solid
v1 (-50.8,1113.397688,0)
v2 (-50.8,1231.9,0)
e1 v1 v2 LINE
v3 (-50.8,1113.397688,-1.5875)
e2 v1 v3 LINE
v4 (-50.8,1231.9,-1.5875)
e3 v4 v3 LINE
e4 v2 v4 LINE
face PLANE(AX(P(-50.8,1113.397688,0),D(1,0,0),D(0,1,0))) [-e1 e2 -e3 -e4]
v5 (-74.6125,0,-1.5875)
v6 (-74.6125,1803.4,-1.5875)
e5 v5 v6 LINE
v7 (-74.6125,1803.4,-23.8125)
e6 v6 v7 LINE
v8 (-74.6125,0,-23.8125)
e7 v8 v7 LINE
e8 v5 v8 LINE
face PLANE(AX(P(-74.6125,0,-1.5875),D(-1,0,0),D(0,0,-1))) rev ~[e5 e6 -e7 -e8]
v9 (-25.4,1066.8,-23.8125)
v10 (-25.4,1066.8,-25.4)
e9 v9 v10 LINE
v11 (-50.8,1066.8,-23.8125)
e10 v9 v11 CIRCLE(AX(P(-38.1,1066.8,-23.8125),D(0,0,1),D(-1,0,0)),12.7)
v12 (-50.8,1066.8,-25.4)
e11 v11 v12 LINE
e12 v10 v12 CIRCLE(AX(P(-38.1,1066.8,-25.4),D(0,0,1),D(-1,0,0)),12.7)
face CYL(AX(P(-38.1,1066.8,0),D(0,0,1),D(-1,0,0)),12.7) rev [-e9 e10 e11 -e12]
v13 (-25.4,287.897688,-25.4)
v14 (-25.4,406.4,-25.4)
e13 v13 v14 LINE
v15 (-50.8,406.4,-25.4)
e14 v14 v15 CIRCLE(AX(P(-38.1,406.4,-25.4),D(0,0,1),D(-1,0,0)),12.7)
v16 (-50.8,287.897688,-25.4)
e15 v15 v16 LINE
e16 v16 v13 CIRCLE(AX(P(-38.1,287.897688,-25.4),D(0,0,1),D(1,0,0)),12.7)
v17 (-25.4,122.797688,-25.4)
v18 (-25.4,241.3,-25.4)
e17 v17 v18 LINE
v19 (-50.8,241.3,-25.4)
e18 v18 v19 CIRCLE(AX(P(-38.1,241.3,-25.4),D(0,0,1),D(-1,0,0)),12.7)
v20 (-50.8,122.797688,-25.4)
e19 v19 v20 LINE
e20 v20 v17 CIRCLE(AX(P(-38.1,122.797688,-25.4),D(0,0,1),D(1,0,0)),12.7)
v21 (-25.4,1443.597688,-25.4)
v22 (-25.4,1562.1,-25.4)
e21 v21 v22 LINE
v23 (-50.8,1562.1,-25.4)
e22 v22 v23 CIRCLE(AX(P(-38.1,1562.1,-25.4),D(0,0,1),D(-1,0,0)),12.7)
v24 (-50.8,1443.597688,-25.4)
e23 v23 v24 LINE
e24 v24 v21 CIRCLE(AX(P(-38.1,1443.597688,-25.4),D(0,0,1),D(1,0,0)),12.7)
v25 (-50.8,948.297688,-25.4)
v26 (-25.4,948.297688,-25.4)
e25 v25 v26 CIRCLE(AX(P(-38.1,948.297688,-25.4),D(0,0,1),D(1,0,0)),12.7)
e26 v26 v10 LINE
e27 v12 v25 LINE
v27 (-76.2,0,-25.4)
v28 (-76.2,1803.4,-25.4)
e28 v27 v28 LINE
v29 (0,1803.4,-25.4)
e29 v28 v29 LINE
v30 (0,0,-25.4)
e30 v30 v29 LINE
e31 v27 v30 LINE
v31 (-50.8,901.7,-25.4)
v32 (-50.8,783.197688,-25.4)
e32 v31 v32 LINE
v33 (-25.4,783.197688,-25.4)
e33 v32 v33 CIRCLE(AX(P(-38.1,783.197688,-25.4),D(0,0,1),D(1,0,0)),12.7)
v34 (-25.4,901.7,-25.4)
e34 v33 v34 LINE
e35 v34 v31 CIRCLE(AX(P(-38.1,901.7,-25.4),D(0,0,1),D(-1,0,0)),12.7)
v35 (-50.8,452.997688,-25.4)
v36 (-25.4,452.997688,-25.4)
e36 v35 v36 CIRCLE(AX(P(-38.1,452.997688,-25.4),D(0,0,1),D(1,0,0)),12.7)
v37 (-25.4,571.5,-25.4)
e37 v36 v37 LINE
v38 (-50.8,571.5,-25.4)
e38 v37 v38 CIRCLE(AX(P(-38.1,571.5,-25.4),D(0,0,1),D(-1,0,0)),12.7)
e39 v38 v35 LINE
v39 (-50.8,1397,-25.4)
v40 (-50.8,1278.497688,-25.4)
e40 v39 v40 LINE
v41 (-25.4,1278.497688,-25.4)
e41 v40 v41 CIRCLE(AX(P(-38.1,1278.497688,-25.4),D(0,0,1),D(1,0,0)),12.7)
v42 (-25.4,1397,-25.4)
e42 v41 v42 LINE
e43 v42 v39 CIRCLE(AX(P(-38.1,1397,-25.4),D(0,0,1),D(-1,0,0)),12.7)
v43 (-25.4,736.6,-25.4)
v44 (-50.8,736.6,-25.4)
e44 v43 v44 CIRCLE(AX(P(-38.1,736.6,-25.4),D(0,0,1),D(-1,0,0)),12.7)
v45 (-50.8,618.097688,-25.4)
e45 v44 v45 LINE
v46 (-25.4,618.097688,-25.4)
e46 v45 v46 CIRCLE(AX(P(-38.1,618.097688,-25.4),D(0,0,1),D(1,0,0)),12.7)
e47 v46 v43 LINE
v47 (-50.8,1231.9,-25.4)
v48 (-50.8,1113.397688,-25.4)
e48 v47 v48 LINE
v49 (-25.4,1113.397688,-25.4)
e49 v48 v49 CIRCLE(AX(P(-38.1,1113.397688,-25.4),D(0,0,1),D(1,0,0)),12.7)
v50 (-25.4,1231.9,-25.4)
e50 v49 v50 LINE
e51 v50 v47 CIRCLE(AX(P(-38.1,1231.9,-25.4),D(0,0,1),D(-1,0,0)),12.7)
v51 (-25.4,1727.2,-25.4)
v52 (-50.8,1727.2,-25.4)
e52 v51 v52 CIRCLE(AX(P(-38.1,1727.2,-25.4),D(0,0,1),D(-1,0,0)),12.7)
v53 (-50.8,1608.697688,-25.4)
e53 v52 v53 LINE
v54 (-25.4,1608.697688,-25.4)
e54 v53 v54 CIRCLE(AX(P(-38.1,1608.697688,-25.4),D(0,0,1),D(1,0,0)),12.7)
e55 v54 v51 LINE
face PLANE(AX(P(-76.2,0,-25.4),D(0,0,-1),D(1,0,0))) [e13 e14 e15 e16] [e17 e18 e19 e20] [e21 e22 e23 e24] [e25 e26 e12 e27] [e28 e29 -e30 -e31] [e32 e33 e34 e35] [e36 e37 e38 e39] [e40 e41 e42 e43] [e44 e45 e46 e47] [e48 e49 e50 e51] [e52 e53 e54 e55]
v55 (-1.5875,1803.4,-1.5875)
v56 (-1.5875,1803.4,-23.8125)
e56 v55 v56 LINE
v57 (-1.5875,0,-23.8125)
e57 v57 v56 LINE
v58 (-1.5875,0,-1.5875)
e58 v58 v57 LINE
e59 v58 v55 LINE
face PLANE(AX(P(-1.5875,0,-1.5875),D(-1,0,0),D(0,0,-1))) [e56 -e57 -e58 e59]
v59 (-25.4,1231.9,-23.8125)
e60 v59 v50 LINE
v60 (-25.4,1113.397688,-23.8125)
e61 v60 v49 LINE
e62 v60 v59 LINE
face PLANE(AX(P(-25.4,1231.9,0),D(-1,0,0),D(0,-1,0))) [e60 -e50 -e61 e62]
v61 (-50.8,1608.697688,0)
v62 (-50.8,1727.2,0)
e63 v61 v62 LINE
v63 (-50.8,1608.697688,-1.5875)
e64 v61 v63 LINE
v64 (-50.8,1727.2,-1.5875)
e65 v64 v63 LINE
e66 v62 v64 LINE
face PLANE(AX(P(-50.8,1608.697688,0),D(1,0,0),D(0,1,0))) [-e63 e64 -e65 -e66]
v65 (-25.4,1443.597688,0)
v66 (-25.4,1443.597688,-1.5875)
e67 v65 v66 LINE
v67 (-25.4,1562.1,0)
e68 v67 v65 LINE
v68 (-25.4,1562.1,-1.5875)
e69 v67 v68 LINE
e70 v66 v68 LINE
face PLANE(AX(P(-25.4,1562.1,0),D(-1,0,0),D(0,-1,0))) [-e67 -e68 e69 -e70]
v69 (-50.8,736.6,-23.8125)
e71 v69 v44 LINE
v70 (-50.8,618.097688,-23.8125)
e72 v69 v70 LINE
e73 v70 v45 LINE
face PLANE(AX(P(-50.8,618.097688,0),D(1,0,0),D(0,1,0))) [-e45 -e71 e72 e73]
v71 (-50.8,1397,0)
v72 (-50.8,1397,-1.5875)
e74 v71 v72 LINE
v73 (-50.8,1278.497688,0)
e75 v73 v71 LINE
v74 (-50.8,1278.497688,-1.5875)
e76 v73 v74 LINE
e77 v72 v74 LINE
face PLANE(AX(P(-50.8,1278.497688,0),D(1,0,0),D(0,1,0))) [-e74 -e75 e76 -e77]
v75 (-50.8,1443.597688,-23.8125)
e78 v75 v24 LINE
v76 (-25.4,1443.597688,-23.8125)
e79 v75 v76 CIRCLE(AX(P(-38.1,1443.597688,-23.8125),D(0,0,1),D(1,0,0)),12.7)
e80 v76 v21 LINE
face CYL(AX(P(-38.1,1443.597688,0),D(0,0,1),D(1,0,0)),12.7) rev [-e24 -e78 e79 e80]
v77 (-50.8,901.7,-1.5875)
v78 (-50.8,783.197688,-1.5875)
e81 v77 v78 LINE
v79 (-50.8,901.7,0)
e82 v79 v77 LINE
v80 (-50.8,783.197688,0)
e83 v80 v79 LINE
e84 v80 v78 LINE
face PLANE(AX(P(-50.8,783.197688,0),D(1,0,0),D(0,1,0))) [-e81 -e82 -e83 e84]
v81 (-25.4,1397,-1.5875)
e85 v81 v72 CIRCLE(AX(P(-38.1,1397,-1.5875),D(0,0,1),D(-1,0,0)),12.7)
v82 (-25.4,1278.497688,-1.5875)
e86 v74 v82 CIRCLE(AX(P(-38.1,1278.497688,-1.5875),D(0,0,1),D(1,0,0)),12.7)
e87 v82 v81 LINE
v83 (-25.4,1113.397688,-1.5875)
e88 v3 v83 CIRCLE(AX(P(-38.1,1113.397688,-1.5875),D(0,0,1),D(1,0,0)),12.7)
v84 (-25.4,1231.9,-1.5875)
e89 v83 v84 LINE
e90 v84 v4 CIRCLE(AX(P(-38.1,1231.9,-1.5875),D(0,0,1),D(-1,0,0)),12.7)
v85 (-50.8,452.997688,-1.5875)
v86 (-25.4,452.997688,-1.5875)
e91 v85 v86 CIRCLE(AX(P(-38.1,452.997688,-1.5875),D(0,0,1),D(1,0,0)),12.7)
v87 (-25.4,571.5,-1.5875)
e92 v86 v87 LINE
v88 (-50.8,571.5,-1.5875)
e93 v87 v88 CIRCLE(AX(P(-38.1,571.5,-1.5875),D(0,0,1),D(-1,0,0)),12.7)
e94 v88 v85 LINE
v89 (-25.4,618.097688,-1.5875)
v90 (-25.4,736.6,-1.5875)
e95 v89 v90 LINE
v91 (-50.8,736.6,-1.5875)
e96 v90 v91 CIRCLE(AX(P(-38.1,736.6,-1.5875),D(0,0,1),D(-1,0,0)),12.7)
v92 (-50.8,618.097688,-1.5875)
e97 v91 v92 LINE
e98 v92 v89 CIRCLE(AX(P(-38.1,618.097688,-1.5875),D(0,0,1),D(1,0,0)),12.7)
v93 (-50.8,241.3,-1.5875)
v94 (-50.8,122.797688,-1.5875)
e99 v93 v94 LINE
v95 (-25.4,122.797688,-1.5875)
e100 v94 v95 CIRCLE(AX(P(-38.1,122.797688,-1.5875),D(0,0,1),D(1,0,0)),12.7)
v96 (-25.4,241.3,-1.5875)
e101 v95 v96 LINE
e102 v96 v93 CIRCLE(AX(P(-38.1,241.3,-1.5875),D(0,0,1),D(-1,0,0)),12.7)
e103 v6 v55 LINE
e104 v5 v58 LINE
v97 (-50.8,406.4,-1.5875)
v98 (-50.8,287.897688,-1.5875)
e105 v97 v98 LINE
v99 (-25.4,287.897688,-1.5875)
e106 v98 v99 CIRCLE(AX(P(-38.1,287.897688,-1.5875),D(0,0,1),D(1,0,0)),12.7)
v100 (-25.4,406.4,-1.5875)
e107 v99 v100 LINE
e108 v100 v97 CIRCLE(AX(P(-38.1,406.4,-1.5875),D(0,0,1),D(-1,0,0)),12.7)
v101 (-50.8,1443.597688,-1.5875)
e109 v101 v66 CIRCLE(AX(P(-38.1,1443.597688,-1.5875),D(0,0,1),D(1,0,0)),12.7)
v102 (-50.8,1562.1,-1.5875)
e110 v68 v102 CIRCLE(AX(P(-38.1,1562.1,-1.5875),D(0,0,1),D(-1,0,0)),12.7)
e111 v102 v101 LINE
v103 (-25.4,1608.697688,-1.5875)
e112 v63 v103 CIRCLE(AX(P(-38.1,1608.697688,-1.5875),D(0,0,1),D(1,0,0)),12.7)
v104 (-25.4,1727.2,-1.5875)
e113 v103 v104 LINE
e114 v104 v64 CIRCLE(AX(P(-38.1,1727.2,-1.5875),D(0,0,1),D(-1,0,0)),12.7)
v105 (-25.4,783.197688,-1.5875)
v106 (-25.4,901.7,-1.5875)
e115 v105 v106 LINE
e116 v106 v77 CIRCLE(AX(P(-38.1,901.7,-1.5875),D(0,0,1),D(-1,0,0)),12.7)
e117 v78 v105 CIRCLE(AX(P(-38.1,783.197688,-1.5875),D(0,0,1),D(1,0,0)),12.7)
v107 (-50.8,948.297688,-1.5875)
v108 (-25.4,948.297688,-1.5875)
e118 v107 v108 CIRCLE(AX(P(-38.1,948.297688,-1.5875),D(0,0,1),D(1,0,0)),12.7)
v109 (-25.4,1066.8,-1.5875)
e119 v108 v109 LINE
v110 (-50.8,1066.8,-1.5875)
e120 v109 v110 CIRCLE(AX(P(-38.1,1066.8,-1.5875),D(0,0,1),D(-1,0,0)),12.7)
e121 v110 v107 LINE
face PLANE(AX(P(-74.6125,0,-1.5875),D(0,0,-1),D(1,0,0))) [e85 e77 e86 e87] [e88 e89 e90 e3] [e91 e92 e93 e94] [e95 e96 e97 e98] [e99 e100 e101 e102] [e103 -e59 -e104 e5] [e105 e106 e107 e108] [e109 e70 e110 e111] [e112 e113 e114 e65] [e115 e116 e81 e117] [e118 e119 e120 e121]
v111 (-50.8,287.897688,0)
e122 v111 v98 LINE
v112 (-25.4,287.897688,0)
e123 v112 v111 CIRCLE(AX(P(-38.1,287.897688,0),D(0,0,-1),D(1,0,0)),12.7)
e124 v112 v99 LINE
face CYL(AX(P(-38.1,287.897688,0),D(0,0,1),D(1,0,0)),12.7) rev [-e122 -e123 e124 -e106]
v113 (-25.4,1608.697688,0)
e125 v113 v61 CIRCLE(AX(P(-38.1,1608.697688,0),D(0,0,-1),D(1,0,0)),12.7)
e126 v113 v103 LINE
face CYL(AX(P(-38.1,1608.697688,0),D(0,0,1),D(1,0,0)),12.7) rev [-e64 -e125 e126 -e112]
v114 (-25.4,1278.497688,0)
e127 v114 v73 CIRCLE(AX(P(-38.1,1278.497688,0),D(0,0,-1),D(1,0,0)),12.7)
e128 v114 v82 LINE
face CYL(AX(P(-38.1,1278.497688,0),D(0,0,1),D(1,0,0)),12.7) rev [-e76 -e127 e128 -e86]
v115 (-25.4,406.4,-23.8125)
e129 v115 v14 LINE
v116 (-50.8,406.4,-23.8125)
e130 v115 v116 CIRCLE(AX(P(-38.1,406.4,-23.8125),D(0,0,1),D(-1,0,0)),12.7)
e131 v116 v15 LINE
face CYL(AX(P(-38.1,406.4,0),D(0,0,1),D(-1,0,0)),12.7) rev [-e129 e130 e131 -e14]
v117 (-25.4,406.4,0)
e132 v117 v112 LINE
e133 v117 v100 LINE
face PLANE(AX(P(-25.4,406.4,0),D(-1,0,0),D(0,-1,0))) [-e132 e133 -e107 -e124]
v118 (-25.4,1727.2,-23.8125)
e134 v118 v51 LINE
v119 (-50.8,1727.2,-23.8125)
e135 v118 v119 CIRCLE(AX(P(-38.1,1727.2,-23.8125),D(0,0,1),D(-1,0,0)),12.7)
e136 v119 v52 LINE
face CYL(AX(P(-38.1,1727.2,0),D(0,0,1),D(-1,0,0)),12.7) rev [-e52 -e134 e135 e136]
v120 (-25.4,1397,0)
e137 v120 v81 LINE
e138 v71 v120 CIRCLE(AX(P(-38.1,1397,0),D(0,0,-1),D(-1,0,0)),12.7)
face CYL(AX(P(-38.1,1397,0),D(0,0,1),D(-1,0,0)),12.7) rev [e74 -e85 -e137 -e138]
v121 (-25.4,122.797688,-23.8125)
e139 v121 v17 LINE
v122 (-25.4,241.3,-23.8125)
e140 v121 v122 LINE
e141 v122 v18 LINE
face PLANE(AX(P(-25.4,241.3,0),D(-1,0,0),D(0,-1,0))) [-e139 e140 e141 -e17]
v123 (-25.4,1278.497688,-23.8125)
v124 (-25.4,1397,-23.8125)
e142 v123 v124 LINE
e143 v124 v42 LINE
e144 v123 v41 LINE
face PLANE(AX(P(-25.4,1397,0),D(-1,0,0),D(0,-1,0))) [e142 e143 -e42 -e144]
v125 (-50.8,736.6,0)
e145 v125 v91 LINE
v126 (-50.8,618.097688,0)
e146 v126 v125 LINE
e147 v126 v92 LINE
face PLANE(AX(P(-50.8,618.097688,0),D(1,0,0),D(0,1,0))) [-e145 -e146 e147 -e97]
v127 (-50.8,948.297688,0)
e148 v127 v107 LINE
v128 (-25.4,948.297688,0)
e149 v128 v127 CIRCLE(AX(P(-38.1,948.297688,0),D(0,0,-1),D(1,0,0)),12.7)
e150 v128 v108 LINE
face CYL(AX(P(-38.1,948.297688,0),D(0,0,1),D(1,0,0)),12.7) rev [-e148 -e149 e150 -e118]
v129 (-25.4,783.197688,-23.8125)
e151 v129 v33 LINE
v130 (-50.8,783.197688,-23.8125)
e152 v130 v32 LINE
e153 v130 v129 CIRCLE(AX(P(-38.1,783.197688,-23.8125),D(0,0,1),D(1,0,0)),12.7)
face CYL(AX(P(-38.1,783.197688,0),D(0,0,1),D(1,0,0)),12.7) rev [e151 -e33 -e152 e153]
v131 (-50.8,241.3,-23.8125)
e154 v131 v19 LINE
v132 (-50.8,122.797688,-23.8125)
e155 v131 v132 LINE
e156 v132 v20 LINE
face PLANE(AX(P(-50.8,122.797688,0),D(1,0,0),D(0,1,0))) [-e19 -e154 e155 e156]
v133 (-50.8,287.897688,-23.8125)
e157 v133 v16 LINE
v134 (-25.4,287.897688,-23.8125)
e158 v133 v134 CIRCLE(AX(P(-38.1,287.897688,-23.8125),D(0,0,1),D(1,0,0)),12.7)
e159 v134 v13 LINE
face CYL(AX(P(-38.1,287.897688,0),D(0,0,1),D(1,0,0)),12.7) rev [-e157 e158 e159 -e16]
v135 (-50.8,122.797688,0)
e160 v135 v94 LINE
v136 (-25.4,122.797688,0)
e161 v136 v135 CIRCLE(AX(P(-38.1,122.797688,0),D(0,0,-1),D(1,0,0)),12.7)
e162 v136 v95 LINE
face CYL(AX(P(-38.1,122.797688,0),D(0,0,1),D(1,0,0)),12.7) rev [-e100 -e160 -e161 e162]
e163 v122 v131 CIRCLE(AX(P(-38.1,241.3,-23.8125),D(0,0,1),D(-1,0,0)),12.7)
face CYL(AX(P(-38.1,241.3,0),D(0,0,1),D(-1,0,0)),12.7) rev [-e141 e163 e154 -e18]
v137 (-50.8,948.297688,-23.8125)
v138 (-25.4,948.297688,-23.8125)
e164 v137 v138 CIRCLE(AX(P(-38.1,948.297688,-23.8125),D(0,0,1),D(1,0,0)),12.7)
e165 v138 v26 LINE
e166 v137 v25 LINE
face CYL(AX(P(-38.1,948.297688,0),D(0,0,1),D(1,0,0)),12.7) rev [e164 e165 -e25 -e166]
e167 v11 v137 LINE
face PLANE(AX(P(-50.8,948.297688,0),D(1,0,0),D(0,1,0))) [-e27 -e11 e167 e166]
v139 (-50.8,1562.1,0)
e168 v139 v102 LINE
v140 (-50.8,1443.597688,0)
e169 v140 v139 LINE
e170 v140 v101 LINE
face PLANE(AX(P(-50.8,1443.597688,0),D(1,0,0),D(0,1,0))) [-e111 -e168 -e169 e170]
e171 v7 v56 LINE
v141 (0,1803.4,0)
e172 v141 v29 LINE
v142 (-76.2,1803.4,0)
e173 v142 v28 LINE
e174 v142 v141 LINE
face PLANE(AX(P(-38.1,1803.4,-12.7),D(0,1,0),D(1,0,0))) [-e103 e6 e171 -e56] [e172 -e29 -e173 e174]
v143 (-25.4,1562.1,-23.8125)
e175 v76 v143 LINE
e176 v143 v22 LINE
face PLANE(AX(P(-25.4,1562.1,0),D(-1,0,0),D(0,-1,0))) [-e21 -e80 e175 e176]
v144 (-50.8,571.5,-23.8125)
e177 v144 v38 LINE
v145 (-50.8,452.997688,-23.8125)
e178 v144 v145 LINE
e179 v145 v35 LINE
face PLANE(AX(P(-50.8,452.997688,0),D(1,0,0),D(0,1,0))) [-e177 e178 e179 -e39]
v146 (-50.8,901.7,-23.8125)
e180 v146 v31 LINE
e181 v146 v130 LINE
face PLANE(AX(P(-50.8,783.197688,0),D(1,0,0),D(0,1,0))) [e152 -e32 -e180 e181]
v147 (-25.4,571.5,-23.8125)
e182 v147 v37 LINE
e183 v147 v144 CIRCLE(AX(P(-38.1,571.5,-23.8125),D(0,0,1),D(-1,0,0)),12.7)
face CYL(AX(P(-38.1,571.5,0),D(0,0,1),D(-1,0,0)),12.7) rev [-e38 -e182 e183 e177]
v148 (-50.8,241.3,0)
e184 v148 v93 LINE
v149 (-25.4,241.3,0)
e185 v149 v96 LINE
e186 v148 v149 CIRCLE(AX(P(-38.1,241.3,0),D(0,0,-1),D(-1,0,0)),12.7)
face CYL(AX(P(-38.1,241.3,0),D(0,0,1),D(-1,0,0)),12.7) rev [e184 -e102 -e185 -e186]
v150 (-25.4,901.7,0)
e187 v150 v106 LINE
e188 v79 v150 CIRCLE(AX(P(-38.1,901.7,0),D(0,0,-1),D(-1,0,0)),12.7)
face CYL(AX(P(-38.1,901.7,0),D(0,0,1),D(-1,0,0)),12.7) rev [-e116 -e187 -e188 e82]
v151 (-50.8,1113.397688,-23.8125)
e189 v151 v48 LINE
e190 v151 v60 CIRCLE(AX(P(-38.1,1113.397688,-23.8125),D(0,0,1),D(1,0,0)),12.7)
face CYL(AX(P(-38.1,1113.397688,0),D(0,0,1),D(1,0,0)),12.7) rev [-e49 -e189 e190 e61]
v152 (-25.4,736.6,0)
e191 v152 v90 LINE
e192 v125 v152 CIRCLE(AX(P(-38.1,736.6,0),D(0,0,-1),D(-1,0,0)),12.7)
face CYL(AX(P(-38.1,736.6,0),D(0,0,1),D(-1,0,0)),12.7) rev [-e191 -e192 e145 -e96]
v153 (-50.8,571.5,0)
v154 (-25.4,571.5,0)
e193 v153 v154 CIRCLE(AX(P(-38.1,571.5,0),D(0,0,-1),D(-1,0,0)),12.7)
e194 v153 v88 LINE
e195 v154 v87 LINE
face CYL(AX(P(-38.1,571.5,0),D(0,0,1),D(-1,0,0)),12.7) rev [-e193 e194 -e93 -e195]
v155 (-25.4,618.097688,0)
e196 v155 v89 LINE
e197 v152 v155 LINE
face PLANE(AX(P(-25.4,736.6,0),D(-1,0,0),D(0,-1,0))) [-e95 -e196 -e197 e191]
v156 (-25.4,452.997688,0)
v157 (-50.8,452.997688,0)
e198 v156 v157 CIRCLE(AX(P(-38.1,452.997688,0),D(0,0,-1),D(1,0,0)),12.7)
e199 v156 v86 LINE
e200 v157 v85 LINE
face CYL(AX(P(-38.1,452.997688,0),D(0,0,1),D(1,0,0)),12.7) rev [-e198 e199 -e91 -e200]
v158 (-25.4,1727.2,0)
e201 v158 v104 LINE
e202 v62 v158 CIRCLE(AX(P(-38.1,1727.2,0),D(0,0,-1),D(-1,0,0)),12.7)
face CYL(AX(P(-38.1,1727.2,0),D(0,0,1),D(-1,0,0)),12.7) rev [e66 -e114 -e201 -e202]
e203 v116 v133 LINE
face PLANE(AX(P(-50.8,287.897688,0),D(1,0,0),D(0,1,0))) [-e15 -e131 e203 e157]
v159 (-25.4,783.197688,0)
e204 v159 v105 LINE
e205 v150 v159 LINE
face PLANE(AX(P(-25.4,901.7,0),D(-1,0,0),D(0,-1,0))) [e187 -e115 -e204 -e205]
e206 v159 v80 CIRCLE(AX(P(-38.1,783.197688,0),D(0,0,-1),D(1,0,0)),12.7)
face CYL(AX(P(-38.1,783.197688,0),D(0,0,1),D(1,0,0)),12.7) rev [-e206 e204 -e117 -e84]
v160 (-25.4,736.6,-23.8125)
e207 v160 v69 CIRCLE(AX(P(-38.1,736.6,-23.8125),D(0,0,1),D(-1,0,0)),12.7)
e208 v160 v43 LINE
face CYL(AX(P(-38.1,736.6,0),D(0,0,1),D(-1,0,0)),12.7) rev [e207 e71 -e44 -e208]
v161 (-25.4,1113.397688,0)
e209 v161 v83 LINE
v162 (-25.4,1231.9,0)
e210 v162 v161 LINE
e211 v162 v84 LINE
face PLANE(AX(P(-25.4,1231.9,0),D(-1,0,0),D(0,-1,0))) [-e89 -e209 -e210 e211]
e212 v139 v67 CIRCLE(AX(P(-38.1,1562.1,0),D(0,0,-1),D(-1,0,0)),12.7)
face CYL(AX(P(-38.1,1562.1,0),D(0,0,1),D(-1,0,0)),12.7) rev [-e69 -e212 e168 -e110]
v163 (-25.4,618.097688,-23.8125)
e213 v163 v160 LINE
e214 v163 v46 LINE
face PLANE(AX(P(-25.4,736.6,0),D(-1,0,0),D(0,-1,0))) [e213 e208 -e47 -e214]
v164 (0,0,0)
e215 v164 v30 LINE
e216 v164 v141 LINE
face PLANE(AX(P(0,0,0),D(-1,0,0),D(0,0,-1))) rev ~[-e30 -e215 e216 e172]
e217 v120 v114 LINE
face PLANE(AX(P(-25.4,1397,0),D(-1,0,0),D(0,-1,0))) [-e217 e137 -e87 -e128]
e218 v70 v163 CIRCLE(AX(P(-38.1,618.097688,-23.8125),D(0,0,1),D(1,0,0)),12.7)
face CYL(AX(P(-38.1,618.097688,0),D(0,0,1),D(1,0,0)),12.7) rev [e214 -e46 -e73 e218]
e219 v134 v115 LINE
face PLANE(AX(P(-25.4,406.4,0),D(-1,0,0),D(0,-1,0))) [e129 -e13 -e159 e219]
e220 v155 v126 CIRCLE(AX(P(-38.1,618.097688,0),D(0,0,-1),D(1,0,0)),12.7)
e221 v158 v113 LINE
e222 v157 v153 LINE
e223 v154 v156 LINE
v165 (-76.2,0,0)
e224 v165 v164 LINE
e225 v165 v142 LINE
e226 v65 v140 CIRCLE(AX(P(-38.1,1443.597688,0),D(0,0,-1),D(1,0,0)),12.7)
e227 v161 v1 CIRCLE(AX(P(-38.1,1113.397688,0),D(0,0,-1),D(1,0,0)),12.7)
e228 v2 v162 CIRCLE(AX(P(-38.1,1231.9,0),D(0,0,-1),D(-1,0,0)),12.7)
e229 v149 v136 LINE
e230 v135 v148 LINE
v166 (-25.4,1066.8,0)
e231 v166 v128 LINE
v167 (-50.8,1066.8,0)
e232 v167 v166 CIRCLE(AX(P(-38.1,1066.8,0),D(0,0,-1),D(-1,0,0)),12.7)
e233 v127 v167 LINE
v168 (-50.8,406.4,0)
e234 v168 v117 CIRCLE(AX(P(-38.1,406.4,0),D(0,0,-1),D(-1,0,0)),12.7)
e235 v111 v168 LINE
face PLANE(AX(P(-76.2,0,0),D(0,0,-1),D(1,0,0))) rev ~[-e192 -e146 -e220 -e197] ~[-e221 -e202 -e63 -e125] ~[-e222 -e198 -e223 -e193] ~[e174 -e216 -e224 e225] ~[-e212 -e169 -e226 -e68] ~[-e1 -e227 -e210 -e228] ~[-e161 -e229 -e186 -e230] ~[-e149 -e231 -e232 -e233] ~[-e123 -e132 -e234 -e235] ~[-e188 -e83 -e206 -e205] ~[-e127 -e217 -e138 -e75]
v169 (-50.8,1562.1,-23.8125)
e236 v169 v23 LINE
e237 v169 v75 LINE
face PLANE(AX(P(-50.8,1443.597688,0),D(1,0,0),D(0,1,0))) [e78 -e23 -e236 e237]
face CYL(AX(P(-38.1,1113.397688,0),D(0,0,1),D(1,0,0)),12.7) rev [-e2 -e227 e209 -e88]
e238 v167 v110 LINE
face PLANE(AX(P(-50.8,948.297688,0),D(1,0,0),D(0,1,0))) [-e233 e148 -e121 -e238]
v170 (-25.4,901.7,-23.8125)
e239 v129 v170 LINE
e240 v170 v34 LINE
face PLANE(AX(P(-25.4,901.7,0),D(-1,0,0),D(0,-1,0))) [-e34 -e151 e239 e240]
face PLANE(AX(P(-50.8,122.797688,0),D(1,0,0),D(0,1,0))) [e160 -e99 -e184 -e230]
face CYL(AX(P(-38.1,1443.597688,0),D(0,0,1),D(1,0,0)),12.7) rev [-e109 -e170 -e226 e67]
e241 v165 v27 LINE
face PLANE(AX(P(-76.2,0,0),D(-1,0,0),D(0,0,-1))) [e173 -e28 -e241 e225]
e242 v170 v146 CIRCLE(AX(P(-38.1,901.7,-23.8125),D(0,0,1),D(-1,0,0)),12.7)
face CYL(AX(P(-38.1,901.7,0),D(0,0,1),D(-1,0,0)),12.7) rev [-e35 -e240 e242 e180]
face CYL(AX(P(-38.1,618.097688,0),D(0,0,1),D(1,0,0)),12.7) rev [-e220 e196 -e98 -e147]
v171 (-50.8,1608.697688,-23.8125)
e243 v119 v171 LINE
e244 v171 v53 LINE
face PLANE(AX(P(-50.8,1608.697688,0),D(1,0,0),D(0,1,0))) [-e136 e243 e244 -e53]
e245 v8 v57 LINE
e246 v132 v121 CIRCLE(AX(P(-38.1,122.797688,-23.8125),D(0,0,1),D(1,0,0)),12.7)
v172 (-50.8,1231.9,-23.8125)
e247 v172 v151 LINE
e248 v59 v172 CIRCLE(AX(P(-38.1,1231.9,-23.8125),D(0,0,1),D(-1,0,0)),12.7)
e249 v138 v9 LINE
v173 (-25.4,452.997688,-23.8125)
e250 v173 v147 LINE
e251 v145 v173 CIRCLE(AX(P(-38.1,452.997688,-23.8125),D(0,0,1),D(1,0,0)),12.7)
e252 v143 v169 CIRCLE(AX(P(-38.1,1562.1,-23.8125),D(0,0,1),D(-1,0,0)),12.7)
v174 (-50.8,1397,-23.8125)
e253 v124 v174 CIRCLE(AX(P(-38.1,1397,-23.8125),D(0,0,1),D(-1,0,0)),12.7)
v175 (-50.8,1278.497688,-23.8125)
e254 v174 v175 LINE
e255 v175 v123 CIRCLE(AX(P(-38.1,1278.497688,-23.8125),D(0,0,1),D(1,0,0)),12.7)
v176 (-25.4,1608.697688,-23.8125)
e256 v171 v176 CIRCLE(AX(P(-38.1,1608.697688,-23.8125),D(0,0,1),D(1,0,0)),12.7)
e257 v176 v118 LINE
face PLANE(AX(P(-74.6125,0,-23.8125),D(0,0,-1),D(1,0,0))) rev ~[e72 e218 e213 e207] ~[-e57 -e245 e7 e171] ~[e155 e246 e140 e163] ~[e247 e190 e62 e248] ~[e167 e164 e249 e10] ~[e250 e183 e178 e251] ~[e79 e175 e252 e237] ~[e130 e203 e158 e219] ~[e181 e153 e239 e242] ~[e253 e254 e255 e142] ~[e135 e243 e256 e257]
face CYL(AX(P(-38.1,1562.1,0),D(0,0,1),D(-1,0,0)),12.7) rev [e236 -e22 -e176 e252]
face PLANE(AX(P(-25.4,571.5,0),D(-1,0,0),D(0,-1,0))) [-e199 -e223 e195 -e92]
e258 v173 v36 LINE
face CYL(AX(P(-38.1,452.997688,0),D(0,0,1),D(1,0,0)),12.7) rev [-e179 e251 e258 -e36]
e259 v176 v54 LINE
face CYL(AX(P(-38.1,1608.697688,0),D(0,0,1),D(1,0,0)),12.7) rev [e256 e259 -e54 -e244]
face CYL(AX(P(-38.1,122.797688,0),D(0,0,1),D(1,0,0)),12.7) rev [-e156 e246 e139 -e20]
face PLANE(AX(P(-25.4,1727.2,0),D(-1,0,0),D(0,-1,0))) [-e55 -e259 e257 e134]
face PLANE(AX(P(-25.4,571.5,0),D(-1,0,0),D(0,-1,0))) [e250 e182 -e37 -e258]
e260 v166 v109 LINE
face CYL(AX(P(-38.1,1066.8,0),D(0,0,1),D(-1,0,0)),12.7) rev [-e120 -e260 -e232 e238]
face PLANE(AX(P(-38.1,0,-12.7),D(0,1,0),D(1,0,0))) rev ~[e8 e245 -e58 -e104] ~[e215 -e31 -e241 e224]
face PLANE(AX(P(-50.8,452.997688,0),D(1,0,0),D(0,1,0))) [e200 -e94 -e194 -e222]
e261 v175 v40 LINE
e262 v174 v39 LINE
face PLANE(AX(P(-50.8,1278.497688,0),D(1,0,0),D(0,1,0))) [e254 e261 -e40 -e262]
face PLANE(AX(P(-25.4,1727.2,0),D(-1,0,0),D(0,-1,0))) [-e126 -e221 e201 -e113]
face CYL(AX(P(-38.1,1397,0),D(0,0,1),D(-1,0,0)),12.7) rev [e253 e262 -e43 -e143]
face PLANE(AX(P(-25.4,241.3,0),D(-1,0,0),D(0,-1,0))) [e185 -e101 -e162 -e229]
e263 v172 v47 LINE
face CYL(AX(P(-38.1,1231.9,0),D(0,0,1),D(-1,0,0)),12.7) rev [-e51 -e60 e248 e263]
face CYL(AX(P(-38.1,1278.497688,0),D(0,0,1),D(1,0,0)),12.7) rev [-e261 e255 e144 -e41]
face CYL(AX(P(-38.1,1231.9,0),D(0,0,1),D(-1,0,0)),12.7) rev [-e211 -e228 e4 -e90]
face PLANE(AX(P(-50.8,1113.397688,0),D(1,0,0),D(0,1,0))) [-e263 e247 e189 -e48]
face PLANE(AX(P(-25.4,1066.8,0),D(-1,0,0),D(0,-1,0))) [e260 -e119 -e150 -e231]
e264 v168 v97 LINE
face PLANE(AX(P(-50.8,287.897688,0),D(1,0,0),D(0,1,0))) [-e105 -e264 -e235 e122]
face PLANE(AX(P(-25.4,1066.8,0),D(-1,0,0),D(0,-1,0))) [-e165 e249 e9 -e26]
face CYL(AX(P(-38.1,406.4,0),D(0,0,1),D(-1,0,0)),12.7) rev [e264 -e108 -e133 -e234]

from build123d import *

# Parameters (mm, degrees)
SKETCH1_W           = 76.2
SKETCH1_H           = 25.4
SKETCH1_W_2         = 73.025
SKETCH1_H_2         = 22.225
BOSS_EXTRUDE1_DEPTH = 1803.4
CUT_EXTRUDE1_DEPTH  = 1806.187846181


with BuildPart() as part:
    # Sketch1 → Boss-Extrude1 (new body)
    with BuildSketch(Plane(origin=(0, 0, 0), x_dir=(1, 0, 0), z_dir=(0, 1, 0))):
        with Locations((-38.1, 12.7)):
            Rectangle(SKETCH1_W, SKETCH1_H)
        with Locations((-38.1, 12.7)):
            Rectangle(SKETCH1_W_2, SKETCH1_H_2, mode=Mode.SUBTRACT)
    extrude(amount=BOSS_EXTRUDE1_DEPTH)

    # Sketch2 → Cut-Extrude1 (cut, through all)
    with BuildSketch(Plane.XY):
        with BuildLine():
            Line((-25.4, 1727.2), (-25.4, 1608.697688474))
            ThreePointArc((-25.4, 1608.697688474), (-38.1, 1595.997688474), (-50.8, 1608.697688474))
            Line((-50.8, 1608.697688474), (-50.8, 1727.2))
            ThreePointArc((-50.8, 1727.2), (-38.1, 1739.9), (-25.4, 1727.2))
        make_face()
        with BuildLine():
            Line((-25.4, 1562.1), (-25.4, 1443.597688474))
            ThreePointArc((-25.4, 1443.597688474), (-38.1, 1430.897688474), (-50.8, 1443.597688474))
            Line((-50.8, 1443.597688474), (-50.8, 1562.1))
            ThreePointArc((-50.8, 1562.1), (-38.1, 1574.8), (-25.4, 1562.1))
        make_face()
        with BuildLine():
            Line((-25.4, 1397), (-25.4, 1278.497688474))
            ThreePointArc((-25.4, 1278.497688474), (-38.1, 1265.797688474), (-50.8, 1278.497688474))
            Line((-50.8, 1278.497688474), (-50.8, 1397))
            ThreePointArc((-50.8, 1397), (-38.1, 1409.7), (-25.4, 1397))
        make_face()
        with BuildLine():
            Line((-25.4, 1231.9), (-25.4, 1113.397688474))
            ThreePointArc((-25.4, 1113.397688474), (-38.1, 1100.697688474), (-50.8, 1113.397688474))
            Line((-50.8, 1113.397688474), (-50.8, 1231.9))
            ThreePointArc((-50.8, 1231.9), (-38.1, 1244.6), (-25.4, 1231.9))
        make_face()
        with BuildLine():
            Line((-25.4, 1066.8), (-25.4, 948.297688474))
            ThreePointArc((-25.4, 948.297688474), (-38.1, 935.597688474), (-50.8, 948.297688474))
            Line((-50.8, 948.297688474), (-50.8, 1066.8))
            ThreePointArc((-50.8, 1066.8), (-38.1, 1079.5), (-25.4, 1066.8))
        make_face()
        with BuildLine():
            Line((-25.4, 901.7), (-25.4, 783.197688474))
            ThreePointArc((-25.4, 783.197688474), (-38.1, 770.497688474), (-50.8, 783.197688474))
            Line((-50.8, 783.197688474), (-50.8, 901.7))
            ThreePointArc((-50.8, 901.7), (-38.1, 914.4), (-25.4, 901.7))
        make_face()
        with BuildLine():
            Line((-25.4, 736.6), (-25.4, 618.097688474))
            ThreePointArc((-25.4, 618.097688474), (-38.1, 605.397688474), (-50.8, 618.097688474))
            Line((-50.8, 618.097688474), (-50.8, 736.6))
            ThreePointArc((-50.8, 736.6), (-38.1, 749.3), (-25.4, 736.6))
        make_face()
        with BuildLine():
            Line((-25.4, 571.5), (-25.4, 452.997688474))
            ThreePointArc((-25.4, 452.997688474), (-38.1, 440.297688474), (-50.8, 452.997688474))
            Line((-50.8, 452.997688474), (-50.8, 571.5))
            ThreePointArc((-50.8, 571.5), (-38.1, 584.2), (-25.4, 571.5))
        make_face()
        with BuildLine():
            Line((-25.4, 406.4), (-25.4, 287.897688474))
            ThreePointArc((-25.4, 287.897688474), (-38.1, 275.197688474), (-50.8, 287.897688474))
            Line((-50.8, 287.897688474), (-50.8, 406.4))
            ThreePointArc((-50.8, 406.4), (-38.1, 419.1), (-25.4, 406.4))
        make_face()
        with BuildLine():
            Line((-25.4, 241.3), (-25.4, 122.797688474))
            ThreePointArc((-25.4, 122.797688474), (-38.1, 110.097688474), (-50.8, 122.797688474))
            Line((-50.8, 122.797688474), (-50.8, 241.3))
            ThreePointArc((-50.8, 241.3), (-38.1, 254), (-25.4, 241.3))
        make_face()
    extrude(amount=-CUT_EXTRUDE1_DEPTH, mode=Mode.SUBTRACT)


solid = part.part
